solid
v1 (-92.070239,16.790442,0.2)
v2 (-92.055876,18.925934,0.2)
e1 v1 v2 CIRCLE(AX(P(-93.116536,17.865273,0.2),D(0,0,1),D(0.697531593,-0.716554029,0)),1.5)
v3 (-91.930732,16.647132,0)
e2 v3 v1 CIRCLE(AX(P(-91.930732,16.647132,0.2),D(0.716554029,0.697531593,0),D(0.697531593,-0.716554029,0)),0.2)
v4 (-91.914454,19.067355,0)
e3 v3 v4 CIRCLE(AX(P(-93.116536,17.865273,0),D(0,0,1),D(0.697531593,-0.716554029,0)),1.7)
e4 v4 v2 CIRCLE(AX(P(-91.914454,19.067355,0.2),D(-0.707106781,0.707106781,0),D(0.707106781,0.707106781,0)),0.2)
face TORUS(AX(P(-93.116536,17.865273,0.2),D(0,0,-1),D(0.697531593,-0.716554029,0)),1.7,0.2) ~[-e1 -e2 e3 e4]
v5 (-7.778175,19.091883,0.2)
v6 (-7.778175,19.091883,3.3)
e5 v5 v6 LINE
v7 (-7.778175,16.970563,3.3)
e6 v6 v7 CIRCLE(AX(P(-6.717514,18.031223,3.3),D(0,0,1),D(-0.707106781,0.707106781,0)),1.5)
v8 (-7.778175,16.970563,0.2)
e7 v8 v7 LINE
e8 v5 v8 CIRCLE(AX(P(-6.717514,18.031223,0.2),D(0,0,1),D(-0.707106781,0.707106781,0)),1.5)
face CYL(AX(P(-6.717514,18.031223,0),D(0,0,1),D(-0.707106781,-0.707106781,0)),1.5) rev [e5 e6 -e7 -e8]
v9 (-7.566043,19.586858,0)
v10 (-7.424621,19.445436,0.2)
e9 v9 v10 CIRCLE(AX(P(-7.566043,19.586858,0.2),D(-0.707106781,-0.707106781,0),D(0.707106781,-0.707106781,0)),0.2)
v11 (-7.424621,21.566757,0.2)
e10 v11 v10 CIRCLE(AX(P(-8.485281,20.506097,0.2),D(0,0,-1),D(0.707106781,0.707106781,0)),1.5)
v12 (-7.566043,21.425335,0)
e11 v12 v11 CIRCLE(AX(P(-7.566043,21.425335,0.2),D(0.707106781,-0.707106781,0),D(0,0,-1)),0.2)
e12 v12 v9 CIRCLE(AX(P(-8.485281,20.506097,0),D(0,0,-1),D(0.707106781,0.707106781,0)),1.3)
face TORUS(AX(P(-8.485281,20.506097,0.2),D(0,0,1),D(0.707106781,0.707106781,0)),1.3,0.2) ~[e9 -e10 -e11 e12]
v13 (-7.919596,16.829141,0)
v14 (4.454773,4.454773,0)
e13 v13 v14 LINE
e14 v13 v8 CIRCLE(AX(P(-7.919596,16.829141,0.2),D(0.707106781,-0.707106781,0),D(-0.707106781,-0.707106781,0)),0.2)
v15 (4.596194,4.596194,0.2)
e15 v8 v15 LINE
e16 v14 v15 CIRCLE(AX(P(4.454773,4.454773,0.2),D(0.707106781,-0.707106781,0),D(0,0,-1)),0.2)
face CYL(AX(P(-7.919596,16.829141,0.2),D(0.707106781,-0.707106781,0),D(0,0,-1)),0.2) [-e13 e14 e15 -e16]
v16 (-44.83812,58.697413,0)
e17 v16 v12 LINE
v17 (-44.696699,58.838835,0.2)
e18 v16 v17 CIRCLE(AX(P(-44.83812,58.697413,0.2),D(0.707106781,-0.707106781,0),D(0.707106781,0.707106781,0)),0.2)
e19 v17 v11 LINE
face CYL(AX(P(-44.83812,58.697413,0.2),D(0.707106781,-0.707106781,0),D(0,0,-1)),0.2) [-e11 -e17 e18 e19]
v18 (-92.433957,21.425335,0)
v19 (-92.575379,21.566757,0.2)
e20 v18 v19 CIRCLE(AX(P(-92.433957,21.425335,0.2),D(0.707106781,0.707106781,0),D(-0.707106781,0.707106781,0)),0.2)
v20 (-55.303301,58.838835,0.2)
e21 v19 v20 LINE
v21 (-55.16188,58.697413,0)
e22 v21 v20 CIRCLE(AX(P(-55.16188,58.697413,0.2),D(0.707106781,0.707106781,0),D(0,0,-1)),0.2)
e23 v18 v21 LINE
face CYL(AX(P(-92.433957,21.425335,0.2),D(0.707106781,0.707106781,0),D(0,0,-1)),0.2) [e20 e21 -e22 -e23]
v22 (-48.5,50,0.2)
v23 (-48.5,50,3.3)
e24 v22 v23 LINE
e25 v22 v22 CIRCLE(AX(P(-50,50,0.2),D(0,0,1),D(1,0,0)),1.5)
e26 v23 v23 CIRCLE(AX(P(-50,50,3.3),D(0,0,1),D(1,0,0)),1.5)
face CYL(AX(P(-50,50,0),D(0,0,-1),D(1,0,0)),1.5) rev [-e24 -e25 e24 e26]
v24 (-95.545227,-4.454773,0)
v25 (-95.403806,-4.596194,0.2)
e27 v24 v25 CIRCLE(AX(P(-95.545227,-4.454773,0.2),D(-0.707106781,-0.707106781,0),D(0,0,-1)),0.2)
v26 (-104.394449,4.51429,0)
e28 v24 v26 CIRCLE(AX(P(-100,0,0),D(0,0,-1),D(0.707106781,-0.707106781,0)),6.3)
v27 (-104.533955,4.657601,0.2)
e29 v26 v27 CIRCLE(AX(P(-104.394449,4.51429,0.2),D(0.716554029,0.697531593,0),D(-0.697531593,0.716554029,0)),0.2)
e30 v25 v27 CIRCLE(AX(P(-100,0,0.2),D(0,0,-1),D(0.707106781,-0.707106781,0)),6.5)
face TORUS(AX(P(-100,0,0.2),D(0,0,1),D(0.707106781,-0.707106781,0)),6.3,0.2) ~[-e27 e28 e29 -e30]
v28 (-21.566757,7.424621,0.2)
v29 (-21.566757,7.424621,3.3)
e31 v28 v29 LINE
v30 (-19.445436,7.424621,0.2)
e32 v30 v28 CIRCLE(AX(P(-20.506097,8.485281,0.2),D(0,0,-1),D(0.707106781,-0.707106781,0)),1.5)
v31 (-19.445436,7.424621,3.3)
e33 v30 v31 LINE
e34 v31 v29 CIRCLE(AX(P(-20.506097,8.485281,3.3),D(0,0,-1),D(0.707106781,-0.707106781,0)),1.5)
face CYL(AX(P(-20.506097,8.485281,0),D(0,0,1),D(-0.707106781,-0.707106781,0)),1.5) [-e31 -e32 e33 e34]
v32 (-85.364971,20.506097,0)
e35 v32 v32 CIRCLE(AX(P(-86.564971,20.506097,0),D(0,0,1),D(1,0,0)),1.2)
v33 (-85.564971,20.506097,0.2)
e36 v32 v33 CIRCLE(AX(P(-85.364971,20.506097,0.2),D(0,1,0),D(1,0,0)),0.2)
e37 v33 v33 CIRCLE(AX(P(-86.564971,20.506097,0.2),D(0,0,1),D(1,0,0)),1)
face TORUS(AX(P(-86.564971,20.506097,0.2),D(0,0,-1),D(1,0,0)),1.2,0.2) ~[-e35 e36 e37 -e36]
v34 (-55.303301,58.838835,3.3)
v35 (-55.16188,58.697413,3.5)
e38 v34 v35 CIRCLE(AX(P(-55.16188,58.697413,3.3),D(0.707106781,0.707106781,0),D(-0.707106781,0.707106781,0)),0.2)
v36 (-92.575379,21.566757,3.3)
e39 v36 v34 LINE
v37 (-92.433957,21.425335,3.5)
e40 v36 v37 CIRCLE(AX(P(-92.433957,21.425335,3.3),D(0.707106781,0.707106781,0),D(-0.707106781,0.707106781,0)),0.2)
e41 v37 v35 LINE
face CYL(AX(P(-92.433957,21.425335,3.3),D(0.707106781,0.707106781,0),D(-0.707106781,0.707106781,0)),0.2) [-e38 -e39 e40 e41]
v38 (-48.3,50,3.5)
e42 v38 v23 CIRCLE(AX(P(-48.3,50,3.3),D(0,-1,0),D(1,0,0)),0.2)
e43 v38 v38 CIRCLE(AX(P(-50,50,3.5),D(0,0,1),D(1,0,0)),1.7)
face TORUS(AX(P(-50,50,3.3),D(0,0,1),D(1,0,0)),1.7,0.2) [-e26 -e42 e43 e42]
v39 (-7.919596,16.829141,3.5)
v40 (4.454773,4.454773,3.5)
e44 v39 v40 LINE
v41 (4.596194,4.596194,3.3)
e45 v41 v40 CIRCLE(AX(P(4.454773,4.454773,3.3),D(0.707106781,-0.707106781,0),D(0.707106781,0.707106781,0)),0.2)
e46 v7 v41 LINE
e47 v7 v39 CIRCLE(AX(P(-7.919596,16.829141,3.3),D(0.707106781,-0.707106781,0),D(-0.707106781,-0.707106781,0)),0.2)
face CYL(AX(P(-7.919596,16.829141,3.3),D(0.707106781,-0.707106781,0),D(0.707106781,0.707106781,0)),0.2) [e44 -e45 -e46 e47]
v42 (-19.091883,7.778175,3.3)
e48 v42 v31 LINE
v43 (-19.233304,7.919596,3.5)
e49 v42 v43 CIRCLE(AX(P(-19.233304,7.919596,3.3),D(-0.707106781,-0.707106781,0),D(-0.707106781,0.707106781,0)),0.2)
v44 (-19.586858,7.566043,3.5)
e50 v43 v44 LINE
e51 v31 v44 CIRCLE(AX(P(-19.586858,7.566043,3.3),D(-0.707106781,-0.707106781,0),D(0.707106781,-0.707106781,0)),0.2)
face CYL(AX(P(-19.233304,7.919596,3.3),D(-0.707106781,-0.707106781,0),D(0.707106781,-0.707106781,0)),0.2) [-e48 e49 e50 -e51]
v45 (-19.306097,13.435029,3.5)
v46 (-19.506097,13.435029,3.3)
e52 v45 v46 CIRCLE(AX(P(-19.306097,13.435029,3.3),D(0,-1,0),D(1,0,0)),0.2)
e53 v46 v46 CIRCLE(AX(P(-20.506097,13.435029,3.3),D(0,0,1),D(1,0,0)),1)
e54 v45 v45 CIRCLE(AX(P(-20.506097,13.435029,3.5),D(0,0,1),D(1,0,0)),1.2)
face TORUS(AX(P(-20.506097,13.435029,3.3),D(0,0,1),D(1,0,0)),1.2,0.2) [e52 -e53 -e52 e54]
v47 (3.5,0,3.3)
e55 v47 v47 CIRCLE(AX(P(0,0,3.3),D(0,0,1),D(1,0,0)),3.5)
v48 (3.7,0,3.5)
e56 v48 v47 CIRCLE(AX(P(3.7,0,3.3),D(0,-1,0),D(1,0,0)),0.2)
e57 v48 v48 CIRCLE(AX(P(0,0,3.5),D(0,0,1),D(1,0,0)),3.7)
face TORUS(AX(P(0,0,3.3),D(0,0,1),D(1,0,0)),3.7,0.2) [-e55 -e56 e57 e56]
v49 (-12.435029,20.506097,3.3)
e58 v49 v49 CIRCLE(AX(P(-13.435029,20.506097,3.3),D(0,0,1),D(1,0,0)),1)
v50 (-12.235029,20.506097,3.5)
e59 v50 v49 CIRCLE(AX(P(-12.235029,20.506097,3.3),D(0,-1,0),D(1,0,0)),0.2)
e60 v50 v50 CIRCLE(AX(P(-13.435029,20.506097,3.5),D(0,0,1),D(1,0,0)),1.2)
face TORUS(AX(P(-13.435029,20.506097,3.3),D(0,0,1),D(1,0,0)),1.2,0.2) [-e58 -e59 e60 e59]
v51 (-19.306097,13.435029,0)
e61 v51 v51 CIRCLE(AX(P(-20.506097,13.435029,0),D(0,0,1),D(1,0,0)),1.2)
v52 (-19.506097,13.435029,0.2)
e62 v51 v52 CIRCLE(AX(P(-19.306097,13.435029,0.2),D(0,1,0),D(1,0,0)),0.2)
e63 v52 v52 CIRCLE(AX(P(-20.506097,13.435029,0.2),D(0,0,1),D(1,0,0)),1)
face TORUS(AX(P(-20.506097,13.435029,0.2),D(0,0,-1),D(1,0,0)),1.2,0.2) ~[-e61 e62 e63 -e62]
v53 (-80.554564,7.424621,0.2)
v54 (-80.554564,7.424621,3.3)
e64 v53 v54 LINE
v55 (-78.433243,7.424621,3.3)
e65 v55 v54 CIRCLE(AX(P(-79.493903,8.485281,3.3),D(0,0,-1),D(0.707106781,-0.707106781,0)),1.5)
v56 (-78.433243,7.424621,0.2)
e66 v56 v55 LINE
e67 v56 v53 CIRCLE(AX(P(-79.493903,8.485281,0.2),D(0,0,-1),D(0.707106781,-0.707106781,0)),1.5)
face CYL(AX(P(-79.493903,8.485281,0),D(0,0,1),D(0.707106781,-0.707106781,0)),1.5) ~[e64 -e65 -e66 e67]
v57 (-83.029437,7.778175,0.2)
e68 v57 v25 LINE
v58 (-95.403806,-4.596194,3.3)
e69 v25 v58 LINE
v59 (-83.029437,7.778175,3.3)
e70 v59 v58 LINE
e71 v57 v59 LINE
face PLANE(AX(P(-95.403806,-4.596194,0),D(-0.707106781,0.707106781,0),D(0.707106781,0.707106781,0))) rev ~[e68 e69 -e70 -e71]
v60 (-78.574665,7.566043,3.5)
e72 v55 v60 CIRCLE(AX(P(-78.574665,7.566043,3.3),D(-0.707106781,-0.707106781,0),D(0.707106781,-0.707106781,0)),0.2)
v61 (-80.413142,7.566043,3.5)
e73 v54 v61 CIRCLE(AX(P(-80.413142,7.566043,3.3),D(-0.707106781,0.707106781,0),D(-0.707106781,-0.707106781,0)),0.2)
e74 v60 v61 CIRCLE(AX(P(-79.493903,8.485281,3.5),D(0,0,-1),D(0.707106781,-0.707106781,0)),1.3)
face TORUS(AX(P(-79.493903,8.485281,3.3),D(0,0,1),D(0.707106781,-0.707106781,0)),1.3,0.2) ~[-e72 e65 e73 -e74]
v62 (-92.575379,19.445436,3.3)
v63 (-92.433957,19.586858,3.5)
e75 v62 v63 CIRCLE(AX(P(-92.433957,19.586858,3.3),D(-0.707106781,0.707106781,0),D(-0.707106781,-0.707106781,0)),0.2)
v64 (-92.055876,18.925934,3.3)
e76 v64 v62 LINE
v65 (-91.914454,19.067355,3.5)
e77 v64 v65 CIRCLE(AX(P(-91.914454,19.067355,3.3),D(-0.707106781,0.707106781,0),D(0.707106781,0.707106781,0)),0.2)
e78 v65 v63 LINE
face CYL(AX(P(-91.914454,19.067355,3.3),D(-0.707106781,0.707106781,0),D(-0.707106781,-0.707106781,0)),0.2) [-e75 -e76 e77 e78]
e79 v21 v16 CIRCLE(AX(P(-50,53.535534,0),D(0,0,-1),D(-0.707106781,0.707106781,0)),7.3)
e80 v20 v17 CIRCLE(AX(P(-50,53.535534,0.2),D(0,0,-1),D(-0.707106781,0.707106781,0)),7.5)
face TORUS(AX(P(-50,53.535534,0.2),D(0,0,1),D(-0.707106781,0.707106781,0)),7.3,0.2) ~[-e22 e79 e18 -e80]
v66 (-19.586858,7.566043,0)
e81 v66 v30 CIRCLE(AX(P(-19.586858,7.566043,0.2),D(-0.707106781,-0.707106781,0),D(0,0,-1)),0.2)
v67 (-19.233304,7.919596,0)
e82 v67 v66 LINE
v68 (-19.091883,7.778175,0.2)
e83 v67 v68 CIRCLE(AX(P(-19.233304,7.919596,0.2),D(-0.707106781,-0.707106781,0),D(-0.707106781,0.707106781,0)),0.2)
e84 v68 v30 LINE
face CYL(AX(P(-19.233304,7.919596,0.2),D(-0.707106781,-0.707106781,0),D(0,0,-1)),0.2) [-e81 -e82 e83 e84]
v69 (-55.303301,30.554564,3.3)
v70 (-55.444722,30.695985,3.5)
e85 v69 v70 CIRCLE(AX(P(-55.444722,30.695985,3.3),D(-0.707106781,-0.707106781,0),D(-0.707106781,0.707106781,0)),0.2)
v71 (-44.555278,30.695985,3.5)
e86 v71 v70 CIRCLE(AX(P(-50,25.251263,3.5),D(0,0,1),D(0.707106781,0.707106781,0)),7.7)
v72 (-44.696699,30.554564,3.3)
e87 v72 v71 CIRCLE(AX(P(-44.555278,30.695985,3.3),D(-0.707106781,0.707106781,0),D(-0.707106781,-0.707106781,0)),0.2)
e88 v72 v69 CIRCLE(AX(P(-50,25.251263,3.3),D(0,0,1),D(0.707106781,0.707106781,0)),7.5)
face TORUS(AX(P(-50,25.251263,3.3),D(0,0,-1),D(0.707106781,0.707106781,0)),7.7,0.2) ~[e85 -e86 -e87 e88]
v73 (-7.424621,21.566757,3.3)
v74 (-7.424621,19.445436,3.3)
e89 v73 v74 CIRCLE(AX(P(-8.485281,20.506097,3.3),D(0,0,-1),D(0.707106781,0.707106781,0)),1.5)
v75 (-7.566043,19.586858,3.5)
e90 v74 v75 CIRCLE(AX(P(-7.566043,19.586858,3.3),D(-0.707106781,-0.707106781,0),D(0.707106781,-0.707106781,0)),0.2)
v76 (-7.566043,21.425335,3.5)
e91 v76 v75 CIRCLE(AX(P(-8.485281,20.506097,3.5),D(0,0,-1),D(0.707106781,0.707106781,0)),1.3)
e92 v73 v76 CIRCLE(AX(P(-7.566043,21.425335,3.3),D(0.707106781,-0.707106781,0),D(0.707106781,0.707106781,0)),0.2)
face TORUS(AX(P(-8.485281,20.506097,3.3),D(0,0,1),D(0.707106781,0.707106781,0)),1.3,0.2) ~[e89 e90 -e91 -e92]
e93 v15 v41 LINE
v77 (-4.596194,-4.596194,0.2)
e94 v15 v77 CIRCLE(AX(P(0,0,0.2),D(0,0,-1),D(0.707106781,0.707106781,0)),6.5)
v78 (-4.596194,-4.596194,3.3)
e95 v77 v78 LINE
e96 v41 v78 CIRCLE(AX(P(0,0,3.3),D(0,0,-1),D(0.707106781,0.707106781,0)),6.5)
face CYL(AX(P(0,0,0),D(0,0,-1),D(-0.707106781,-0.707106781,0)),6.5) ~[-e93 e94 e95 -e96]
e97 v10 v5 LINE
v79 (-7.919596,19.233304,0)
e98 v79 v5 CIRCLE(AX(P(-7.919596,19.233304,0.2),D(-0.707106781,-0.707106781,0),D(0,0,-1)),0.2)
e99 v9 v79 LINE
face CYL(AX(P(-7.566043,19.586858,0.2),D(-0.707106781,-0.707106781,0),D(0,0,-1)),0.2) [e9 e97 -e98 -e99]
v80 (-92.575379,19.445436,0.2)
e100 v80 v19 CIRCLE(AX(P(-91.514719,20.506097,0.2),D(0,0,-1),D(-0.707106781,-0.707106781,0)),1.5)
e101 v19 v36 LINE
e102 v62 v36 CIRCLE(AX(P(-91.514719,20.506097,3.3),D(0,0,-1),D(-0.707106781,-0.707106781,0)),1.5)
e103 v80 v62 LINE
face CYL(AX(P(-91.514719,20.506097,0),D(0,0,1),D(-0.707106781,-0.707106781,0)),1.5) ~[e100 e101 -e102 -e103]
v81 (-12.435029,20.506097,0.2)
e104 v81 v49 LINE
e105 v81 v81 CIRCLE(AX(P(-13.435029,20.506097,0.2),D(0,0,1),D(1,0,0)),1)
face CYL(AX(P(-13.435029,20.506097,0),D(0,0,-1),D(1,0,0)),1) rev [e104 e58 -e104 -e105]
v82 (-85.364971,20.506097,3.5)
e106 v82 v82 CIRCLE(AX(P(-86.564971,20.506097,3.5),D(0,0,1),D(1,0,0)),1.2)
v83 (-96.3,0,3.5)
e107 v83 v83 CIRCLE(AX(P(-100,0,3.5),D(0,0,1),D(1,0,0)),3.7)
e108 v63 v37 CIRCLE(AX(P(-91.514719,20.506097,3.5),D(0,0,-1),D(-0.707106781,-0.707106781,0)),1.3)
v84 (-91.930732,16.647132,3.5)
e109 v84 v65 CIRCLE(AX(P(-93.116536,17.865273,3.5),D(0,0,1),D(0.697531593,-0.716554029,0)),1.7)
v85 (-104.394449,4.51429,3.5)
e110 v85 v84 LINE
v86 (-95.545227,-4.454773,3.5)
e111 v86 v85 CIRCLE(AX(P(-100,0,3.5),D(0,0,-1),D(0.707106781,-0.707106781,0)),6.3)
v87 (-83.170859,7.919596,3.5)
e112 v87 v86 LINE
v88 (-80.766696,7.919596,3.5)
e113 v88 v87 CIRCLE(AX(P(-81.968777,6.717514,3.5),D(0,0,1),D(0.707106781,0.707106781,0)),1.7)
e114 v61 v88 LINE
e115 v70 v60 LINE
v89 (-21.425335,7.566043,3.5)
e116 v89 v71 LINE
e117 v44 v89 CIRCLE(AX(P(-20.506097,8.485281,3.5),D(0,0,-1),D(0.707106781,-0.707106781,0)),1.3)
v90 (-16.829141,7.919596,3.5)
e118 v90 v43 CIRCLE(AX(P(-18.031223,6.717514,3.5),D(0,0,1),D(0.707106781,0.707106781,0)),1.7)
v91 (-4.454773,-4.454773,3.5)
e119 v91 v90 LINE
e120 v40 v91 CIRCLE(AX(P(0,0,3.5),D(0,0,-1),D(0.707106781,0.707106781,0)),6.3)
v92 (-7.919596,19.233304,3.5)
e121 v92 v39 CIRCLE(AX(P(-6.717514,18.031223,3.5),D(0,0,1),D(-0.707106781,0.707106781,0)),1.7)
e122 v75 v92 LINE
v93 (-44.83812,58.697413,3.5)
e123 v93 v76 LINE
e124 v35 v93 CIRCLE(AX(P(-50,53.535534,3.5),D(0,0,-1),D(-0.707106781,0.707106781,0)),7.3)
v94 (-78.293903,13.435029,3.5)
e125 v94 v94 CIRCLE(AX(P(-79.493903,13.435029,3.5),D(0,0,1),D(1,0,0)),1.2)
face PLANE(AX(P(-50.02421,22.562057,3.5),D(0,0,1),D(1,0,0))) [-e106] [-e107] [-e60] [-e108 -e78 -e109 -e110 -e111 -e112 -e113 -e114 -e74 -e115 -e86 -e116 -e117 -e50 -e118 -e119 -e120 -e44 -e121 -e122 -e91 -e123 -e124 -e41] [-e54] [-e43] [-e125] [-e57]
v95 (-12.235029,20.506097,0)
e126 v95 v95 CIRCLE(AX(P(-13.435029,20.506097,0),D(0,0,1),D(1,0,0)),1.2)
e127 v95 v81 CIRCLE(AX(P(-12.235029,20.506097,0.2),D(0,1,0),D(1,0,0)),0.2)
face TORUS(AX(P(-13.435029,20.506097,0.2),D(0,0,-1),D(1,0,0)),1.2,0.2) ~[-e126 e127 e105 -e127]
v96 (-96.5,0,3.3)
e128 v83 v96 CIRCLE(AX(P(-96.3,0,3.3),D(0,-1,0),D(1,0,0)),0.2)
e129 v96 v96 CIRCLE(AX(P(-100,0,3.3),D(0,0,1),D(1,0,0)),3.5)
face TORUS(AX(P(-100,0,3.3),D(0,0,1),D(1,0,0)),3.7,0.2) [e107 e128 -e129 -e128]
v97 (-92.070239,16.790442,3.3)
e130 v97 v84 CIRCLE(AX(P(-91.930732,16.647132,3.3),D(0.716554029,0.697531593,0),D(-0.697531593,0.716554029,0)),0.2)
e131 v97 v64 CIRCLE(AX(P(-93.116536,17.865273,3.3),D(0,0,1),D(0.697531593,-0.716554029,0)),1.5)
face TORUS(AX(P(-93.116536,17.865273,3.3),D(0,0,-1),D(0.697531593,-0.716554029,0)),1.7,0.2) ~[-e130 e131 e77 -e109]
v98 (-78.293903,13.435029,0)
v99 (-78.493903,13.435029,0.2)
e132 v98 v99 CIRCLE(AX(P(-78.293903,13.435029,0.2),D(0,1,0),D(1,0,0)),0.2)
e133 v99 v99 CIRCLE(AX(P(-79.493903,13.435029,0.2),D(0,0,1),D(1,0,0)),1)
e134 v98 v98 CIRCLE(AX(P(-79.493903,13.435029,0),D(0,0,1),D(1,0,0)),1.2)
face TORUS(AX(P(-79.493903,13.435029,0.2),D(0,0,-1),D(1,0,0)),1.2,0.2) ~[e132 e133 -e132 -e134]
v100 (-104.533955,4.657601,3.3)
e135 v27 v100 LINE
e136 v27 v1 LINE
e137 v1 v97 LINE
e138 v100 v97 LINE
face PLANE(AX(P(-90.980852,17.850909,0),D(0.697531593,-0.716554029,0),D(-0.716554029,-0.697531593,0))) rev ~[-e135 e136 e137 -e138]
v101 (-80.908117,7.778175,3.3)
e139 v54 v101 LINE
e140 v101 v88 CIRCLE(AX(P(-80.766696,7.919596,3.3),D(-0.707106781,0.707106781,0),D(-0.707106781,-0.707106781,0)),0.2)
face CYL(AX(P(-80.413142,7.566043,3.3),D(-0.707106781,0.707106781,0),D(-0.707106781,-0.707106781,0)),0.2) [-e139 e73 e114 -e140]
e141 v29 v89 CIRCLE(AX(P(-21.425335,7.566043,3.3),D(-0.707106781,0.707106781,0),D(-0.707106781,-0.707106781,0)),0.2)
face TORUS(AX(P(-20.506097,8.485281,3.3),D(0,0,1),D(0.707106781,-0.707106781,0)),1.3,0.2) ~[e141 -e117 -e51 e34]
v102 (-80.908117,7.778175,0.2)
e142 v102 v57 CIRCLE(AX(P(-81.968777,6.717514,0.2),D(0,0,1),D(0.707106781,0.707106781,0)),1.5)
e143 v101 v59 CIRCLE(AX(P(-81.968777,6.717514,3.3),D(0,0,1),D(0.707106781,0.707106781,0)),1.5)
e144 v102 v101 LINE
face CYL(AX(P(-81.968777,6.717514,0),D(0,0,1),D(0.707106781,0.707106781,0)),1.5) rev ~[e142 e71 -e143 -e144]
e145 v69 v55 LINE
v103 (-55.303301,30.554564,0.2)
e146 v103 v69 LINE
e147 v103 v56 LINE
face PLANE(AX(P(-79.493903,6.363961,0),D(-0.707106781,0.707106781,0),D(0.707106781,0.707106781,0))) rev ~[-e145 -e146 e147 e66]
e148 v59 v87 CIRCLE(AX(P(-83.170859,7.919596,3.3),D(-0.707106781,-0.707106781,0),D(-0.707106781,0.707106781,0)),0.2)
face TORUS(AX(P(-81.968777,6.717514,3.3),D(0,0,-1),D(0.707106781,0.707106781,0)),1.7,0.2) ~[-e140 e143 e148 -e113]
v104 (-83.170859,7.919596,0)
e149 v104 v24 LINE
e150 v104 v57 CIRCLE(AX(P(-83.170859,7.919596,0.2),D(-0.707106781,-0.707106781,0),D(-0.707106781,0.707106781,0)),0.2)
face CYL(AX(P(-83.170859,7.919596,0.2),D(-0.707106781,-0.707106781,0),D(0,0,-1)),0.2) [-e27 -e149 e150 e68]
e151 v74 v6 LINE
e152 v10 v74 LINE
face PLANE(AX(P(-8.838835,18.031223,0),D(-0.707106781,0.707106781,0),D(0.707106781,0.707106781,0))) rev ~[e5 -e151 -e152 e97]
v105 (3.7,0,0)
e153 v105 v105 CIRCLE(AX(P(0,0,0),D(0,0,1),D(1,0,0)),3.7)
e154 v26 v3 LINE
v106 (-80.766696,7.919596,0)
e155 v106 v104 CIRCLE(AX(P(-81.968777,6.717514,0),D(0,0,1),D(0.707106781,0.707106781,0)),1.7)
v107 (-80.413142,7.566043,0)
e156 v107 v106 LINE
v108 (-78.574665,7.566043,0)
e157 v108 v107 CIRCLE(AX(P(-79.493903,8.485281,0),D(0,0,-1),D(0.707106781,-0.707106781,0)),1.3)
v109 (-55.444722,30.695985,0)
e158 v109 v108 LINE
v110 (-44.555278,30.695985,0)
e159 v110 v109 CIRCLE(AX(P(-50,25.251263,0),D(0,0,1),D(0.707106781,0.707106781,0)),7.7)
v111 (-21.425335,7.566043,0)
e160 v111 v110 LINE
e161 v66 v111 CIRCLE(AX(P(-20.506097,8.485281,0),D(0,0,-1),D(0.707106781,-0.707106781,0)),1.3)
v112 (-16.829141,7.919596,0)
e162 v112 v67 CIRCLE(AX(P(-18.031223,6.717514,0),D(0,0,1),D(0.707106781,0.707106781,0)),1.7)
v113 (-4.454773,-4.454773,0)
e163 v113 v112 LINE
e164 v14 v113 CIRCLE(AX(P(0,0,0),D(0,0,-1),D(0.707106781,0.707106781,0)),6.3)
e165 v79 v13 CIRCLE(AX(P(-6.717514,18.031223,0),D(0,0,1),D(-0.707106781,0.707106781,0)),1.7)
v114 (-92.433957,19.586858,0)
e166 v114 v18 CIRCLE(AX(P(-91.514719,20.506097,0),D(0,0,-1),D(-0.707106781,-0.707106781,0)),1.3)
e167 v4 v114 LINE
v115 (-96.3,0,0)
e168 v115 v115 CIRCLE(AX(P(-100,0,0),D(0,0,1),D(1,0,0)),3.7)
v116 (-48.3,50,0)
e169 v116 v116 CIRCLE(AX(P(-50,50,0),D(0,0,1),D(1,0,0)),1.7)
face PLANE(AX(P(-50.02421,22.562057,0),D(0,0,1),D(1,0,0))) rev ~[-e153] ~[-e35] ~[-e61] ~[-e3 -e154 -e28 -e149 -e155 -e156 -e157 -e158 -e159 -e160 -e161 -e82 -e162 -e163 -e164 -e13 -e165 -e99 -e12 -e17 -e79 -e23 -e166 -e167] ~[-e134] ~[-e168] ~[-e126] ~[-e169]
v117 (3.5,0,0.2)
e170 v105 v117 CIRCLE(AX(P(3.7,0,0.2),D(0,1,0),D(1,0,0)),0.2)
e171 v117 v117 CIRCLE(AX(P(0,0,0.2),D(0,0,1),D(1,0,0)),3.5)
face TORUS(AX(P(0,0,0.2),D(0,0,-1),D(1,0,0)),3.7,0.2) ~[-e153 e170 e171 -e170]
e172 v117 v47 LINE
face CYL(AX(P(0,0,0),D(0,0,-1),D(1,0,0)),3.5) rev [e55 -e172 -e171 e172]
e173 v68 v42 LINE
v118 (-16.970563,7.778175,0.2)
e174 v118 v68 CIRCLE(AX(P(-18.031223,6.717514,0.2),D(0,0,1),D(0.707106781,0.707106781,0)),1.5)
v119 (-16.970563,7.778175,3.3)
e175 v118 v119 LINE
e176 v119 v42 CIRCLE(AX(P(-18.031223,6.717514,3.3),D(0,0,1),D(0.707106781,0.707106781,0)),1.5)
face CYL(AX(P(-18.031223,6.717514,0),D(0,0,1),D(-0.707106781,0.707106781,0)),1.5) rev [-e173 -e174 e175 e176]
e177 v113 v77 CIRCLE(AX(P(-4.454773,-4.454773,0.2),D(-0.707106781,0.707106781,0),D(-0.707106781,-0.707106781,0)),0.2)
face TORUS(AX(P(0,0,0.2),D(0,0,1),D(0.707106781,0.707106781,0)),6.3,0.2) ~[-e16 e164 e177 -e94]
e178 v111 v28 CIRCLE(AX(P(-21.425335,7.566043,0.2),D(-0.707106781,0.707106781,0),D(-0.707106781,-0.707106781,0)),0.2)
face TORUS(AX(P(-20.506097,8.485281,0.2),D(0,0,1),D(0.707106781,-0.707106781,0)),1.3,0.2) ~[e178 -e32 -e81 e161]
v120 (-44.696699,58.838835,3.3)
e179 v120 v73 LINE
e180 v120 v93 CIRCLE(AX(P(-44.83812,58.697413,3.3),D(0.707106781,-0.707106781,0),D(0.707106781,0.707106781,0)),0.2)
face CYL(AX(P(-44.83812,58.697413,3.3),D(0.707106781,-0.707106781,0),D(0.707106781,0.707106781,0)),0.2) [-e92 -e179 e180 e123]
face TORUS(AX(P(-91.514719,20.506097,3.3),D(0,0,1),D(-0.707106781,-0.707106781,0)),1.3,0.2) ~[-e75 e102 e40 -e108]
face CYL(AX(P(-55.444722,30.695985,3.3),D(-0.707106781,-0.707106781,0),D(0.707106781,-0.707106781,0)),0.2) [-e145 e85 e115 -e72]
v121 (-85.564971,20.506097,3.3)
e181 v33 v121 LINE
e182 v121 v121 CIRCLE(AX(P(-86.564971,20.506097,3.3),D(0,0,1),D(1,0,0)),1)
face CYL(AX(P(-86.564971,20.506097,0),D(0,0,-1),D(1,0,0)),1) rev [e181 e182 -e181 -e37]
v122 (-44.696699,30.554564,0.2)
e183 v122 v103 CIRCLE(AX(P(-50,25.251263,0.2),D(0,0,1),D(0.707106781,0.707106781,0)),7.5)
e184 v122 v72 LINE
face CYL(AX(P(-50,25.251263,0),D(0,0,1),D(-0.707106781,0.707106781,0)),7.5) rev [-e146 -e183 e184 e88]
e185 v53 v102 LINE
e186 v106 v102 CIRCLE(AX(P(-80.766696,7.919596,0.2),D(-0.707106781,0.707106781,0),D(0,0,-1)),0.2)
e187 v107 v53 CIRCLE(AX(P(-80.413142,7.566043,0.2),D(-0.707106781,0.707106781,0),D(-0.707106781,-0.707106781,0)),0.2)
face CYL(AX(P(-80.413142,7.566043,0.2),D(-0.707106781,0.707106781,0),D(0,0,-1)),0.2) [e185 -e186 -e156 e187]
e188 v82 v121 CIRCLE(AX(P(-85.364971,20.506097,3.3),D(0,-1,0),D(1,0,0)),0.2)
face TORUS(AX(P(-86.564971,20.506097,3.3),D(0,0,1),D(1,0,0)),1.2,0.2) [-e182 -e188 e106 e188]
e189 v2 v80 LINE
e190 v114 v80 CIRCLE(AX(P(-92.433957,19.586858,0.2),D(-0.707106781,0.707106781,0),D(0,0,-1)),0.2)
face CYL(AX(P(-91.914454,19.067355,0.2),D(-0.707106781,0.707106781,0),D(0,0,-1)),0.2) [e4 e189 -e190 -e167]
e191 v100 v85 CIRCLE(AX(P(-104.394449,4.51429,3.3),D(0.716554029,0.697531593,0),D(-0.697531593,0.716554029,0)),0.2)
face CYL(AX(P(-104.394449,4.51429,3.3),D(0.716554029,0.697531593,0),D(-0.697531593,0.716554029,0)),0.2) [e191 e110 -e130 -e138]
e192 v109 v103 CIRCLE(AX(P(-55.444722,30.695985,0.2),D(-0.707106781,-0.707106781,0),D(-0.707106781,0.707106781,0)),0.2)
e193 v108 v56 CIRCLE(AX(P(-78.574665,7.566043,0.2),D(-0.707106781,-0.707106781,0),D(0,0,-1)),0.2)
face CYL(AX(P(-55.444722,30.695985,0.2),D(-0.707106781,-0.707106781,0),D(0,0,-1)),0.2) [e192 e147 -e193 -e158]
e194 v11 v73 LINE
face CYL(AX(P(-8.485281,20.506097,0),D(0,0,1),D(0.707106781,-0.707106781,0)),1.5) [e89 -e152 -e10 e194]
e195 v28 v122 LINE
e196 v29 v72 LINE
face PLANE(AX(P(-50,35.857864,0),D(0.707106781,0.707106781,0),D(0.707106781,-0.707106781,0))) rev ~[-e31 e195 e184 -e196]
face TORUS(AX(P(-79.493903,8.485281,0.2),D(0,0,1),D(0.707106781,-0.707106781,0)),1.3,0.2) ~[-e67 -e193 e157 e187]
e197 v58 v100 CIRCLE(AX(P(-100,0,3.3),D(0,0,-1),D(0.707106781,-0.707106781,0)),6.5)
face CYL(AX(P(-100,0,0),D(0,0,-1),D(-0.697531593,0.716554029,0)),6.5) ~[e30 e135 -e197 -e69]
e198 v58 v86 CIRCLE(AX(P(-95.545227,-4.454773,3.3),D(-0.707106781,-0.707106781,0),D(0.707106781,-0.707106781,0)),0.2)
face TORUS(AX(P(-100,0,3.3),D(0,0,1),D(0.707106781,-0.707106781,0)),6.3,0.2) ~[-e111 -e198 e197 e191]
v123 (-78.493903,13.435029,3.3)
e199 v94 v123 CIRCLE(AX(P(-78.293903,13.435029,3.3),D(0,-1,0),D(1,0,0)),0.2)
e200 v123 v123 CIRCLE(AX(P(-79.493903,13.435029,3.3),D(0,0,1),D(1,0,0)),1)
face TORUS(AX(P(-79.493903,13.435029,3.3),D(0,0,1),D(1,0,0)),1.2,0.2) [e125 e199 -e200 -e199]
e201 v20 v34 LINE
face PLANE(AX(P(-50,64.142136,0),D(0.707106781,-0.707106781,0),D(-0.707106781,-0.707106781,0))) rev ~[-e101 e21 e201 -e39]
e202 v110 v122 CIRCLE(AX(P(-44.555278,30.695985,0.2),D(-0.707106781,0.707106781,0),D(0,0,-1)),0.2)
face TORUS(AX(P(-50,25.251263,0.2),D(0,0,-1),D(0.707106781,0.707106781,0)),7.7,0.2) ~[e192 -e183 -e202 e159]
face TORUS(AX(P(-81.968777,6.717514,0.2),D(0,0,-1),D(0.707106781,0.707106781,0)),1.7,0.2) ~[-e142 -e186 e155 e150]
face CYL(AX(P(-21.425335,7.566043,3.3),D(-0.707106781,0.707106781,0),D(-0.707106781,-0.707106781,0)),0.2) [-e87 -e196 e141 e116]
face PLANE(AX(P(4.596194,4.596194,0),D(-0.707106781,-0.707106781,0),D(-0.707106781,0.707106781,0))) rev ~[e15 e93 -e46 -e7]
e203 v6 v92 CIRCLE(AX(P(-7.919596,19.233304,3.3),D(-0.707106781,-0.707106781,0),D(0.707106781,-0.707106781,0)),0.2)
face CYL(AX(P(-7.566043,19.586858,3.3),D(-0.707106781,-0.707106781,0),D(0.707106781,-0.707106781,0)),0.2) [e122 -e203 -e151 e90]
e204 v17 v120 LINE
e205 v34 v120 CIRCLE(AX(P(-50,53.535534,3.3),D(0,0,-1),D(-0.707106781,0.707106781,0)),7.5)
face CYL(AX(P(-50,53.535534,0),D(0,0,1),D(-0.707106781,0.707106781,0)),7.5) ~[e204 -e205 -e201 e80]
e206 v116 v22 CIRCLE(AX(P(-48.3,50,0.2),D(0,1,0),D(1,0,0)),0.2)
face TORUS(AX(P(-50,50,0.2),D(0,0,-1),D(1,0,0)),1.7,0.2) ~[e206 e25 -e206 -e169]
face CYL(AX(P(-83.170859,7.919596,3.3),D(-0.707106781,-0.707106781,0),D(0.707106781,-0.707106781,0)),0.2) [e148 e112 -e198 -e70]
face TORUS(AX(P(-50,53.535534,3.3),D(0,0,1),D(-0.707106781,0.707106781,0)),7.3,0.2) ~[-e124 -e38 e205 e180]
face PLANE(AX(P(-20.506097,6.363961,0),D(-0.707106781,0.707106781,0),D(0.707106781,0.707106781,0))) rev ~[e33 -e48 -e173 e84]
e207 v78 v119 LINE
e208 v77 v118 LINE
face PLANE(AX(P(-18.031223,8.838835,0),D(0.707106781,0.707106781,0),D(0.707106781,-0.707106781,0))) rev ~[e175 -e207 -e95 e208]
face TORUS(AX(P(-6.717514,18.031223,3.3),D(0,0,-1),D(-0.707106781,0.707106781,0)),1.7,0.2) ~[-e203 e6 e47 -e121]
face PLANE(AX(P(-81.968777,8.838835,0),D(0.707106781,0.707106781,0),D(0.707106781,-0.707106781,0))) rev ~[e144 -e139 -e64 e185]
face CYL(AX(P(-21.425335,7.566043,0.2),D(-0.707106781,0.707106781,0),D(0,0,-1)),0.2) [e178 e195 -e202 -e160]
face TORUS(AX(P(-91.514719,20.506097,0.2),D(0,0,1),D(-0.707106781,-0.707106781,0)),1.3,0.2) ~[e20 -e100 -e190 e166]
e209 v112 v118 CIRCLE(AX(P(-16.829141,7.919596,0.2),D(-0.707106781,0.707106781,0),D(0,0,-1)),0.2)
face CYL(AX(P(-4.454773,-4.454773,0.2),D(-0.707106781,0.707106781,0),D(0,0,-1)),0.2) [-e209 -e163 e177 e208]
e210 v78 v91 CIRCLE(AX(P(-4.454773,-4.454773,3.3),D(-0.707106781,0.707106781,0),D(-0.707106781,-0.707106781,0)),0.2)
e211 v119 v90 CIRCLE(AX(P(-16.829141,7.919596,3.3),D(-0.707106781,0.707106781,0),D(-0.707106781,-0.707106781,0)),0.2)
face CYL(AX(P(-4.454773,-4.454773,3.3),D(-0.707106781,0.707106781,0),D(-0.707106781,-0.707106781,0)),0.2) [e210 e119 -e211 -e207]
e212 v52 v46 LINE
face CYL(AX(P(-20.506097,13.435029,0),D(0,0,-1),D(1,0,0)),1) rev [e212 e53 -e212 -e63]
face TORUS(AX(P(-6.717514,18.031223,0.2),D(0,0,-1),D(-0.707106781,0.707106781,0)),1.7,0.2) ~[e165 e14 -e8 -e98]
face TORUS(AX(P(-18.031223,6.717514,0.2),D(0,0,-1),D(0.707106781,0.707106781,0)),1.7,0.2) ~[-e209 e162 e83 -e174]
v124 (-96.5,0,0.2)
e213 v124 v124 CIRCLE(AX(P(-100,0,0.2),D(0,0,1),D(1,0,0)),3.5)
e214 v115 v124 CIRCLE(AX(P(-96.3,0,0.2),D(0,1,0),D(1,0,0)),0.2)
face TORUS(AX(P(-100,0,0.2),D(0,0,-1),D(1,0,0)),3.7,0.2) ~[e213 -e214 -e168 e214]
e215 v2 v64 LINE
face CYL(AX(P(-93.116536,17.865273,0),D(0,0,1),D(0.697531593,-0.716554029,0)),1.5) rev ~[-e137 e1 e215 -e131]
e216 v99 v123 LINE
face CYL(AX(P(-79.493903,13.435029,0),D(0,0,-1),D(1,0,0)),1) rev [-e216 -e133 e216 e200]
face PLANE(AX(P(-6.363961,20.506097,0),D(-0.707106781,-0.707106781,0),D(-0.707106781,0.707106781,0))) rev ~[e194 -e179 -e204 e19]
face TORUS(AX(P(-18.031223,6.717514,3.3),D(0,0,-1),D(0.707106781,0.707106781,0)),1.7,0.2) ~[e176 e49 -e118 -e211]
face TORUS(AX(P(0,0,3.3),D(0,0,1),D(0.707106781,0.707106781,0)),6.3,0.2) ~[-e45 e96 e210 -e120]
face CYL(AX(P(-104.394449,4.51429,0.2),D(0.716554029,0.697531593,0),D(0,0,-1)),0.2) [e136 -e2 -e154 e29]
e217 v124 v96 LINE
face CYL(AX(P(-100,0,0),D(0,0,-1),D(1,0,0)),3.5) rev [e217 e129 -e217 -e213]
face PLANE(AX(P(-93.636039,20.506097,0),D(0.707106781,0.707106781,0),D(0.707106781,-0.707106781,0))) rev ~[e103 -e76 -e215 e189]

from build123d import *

# Parameters (mm, degrees)
SKETCH6_R           = 3.5
SKETCH6_R_2         = 1
SKETCH6_R_3         = 1.5
BOSS_EXTRUDE1_DEPTH = 3.5
FILLET1_R           = 7.5
FILLET2_R           = 1.5
FILLET3_R           = 0.2


with BuildPart() as part:
    # Sketch6 → Boss-Extrude1 (new body)
    with BuildSketch(Plane.XY):
        with BuildLine():
            Line((-95.403805922, -4.596194078), (-81.96877708, 8.838834765))
            Line((-81.96877708, 8.838834765), (-79.493903346, 6.363961031))
            Line((-79.493903346, 6.363961031), (-50, 35.857864376))
            Line((-50, 35.857864376), (-20.506096654, 6.363961031))
            Line((-20.506096654, 6.363961031), (-18.03122292, 8.838834765))
            Line((-18.03122292, 8.838834765), (-4.596194078, -4.596194078))
            ThreePointArc((-4.596194078, -4.596194078), (4.596194078, -4.596194078), (4.596194078, 4.596194078))
            Line((4.596194078, 4.596194078), (-8.838834765, 18.03122292))
            Line((-8.838834765, 18.03122292), (-6.363961031, 20.506096654))
            Line((-6.363961031, 20.506096654), (-50, 64.142135624))
            Line((-50, 64.142135624), (-93.636038969, 20.506096654))
            Line((-93.636038969, 20.506096654), (-90.980851591, 17.850909276))
            Line((-90.980851591, 17.850909276), (-104.533955357, 4.657601188))
            ThreePointArc((-104.533955357, 4.657601188), (-104.627002282, -4.565177968), (-95.403805922, -4.596194078))
        make_face()
        Circle(SKETCH6_R, mode=Mode.SUBTRACT)
        with Locations((-100, 0)):
            Circle(SKETCH6_R, mode=Mode.SUBTRACT)
        with Locations((-20.506096654, 13.435028843)):
            Circle(SKETCH6_R_2, mode=Mode.SUBTRACT)
        with Locations((-79.493903346, 13.435028843)):
            Circle(SKETCH6_R_2, mode=Mode.SUBTRACT)
        with Locations((-86.564971157, 20.506096654)):
            Circle(SKETCH6_R_2, mode=Mode.SUBTRACT)
        with Locations((-50, 50)):
            Circle(SKETCH6_R_3, mode=Mode.SUBTRACT)
        with Locations((-13.435028843, 20.506096654)):
            Circle(SKETCH6_R_2, mode=Mode.SUBTRACT)
    extrude(amount=BOSS_EXTRUDE1_DEPTH)

    # Fillet1
    fillet1_edges = [part.edges().sort_by_distance(p)[0] for p in [
        (-50, 64.142135624, 1.75),
        (-50, 35.857864376, 1.75),
    ]]
    fillet(fillet1_edges, radius=FILLET1_R)

    # Fillet2
    fillet2_edges = [part.edges().sort_by_distance(p)[0] for p in [
        (-81.96877708, 8.838834765, 1.75),
        (-90.980851591, 17.850909276, 1.75),
        (-93.636038969, 20.506096654, 1.75),
        (-6.363961031, 20.506096654, 1.75),
        (-8.838834765, 18.03122292, 1.75),
        (-18.03122292, 8.838834765, 1.75),
        (-20.506096654, 6.363961031, 1.75),
        (-79.493903346, 6.363961031, 1.75),
    ]]
    fillet(fillet2_edges, radius=FILLET2_R)

    # Fillet3
    fillet3_edges = [part.edges().sort_by_distance(p)[0] for p in [
        (-79.493903346, 6.985281374, 3.5),
        (-93.014718626, 20.506096654, 3.5),
        (-91.616569941, 17.855184959, 0),
        (-91.616569941, 17.855184959, 3.5),
        (-81.96877708, 8.217514421, 0),
        (-81.96877708, 8.217514421, 3.5),
        (-8.217514421, 18.03122292, 0),
        (-8.217514421, 18.03122292, 3.5),
        (-18.03122292, 8.217514421, 0),
        (-18.03122292, 8.217514421, 3.5),
        (-89.216621587, 1.590990258, 0),
        (-104.627002282, -4.565177968, 0),
        (-1.590990258, 10.783378413, 0),
        (4.596194078, -4.596194078, 0),
        (4.596194078, -4.596194078, 3.5),
        (-1.590990258, 10.783378413, 3.5),
        (-3.5, 0, 0),
        (-3.5, 0, 3.5),
        (-103.5, 0, 0),
        (-103.5, 0, 3.5),
        (-21.506096654, 13.435028843, 0),
        (-21.506096654, 13.435028843, 3.5),
        (-80.493903346, 13.435028843, 0),
        (-80.493903346, 13.435028843, 3.5),
        (-87.564971157, 20.506096654, 0),
        (-87.564971157, 20.506096654, 3.5),
        (-104.627002282, -4.565177968, 3.5),
        (-51.5, 50, 0),
        (-51.5, 50, 3.5),
        (-89.216621587, 1.590990258, 3.5),
        (-14.435028843, 20.506096654, 0),
        (-14.435028843, 20.506096654, 3.5),
        (-33.131727984, 18.98959236, 0),
        (-33.131727984, 18.98959236, 3.5),
        (-73.939339828, 40.202795796, 0),
        (-73.939339828, 40.202795796, 3.5),
        (-50, 61.035533906, 0),
        (-50, 61.035533906, 3.5),
        (-50, 32.751262658, 0),
        (-50, 32.751262658, 3.5),
        (-92.315627321, 19.185685006, 0),
        (-92.315627321, 19.185685006, 3.5),
        (-26.060660172, 40.202795796, 0),
        (-7.601397898, 19.268659787, 0),
        (-10.783378413, 1.590990258, 0),
        (-19.268659787, 7.601397898, 0),
        (-66.868272016, 18.98959236, 0),
        (-80.731340213, 7.601397898, 0),
        (-98.302096991, 10.724021751, 0),
        (-20.506096654, 6.985281374, 0),
        (-6.985281374, 20.506096654, 0),
        (-79.493903346, 6.985281374, 0),
        (-93.014718626, 20.506096654, 0),
        (-26.060660172, 40.202795796, 3.5),
        (-98.302096991, 10.724021751, 3.5),
        (-80.731340213, 7.601397898, 3.5),
        (-66.868272016, 18.98959236, 3.5),
        (-19.268659787, 7.601397898, 3.5),
        (-10.783378413, 1.590990258, 3.5),
        (-7.601397898, 19.268659787, 3.5),
        (-20.506096654, 6.985281374, 3.5),
        (-6.985281374, 20.506096654, 3.5),
    ]]
    fillet(fillet3_edges, radius=FILLET3_R)


solid = part.part
